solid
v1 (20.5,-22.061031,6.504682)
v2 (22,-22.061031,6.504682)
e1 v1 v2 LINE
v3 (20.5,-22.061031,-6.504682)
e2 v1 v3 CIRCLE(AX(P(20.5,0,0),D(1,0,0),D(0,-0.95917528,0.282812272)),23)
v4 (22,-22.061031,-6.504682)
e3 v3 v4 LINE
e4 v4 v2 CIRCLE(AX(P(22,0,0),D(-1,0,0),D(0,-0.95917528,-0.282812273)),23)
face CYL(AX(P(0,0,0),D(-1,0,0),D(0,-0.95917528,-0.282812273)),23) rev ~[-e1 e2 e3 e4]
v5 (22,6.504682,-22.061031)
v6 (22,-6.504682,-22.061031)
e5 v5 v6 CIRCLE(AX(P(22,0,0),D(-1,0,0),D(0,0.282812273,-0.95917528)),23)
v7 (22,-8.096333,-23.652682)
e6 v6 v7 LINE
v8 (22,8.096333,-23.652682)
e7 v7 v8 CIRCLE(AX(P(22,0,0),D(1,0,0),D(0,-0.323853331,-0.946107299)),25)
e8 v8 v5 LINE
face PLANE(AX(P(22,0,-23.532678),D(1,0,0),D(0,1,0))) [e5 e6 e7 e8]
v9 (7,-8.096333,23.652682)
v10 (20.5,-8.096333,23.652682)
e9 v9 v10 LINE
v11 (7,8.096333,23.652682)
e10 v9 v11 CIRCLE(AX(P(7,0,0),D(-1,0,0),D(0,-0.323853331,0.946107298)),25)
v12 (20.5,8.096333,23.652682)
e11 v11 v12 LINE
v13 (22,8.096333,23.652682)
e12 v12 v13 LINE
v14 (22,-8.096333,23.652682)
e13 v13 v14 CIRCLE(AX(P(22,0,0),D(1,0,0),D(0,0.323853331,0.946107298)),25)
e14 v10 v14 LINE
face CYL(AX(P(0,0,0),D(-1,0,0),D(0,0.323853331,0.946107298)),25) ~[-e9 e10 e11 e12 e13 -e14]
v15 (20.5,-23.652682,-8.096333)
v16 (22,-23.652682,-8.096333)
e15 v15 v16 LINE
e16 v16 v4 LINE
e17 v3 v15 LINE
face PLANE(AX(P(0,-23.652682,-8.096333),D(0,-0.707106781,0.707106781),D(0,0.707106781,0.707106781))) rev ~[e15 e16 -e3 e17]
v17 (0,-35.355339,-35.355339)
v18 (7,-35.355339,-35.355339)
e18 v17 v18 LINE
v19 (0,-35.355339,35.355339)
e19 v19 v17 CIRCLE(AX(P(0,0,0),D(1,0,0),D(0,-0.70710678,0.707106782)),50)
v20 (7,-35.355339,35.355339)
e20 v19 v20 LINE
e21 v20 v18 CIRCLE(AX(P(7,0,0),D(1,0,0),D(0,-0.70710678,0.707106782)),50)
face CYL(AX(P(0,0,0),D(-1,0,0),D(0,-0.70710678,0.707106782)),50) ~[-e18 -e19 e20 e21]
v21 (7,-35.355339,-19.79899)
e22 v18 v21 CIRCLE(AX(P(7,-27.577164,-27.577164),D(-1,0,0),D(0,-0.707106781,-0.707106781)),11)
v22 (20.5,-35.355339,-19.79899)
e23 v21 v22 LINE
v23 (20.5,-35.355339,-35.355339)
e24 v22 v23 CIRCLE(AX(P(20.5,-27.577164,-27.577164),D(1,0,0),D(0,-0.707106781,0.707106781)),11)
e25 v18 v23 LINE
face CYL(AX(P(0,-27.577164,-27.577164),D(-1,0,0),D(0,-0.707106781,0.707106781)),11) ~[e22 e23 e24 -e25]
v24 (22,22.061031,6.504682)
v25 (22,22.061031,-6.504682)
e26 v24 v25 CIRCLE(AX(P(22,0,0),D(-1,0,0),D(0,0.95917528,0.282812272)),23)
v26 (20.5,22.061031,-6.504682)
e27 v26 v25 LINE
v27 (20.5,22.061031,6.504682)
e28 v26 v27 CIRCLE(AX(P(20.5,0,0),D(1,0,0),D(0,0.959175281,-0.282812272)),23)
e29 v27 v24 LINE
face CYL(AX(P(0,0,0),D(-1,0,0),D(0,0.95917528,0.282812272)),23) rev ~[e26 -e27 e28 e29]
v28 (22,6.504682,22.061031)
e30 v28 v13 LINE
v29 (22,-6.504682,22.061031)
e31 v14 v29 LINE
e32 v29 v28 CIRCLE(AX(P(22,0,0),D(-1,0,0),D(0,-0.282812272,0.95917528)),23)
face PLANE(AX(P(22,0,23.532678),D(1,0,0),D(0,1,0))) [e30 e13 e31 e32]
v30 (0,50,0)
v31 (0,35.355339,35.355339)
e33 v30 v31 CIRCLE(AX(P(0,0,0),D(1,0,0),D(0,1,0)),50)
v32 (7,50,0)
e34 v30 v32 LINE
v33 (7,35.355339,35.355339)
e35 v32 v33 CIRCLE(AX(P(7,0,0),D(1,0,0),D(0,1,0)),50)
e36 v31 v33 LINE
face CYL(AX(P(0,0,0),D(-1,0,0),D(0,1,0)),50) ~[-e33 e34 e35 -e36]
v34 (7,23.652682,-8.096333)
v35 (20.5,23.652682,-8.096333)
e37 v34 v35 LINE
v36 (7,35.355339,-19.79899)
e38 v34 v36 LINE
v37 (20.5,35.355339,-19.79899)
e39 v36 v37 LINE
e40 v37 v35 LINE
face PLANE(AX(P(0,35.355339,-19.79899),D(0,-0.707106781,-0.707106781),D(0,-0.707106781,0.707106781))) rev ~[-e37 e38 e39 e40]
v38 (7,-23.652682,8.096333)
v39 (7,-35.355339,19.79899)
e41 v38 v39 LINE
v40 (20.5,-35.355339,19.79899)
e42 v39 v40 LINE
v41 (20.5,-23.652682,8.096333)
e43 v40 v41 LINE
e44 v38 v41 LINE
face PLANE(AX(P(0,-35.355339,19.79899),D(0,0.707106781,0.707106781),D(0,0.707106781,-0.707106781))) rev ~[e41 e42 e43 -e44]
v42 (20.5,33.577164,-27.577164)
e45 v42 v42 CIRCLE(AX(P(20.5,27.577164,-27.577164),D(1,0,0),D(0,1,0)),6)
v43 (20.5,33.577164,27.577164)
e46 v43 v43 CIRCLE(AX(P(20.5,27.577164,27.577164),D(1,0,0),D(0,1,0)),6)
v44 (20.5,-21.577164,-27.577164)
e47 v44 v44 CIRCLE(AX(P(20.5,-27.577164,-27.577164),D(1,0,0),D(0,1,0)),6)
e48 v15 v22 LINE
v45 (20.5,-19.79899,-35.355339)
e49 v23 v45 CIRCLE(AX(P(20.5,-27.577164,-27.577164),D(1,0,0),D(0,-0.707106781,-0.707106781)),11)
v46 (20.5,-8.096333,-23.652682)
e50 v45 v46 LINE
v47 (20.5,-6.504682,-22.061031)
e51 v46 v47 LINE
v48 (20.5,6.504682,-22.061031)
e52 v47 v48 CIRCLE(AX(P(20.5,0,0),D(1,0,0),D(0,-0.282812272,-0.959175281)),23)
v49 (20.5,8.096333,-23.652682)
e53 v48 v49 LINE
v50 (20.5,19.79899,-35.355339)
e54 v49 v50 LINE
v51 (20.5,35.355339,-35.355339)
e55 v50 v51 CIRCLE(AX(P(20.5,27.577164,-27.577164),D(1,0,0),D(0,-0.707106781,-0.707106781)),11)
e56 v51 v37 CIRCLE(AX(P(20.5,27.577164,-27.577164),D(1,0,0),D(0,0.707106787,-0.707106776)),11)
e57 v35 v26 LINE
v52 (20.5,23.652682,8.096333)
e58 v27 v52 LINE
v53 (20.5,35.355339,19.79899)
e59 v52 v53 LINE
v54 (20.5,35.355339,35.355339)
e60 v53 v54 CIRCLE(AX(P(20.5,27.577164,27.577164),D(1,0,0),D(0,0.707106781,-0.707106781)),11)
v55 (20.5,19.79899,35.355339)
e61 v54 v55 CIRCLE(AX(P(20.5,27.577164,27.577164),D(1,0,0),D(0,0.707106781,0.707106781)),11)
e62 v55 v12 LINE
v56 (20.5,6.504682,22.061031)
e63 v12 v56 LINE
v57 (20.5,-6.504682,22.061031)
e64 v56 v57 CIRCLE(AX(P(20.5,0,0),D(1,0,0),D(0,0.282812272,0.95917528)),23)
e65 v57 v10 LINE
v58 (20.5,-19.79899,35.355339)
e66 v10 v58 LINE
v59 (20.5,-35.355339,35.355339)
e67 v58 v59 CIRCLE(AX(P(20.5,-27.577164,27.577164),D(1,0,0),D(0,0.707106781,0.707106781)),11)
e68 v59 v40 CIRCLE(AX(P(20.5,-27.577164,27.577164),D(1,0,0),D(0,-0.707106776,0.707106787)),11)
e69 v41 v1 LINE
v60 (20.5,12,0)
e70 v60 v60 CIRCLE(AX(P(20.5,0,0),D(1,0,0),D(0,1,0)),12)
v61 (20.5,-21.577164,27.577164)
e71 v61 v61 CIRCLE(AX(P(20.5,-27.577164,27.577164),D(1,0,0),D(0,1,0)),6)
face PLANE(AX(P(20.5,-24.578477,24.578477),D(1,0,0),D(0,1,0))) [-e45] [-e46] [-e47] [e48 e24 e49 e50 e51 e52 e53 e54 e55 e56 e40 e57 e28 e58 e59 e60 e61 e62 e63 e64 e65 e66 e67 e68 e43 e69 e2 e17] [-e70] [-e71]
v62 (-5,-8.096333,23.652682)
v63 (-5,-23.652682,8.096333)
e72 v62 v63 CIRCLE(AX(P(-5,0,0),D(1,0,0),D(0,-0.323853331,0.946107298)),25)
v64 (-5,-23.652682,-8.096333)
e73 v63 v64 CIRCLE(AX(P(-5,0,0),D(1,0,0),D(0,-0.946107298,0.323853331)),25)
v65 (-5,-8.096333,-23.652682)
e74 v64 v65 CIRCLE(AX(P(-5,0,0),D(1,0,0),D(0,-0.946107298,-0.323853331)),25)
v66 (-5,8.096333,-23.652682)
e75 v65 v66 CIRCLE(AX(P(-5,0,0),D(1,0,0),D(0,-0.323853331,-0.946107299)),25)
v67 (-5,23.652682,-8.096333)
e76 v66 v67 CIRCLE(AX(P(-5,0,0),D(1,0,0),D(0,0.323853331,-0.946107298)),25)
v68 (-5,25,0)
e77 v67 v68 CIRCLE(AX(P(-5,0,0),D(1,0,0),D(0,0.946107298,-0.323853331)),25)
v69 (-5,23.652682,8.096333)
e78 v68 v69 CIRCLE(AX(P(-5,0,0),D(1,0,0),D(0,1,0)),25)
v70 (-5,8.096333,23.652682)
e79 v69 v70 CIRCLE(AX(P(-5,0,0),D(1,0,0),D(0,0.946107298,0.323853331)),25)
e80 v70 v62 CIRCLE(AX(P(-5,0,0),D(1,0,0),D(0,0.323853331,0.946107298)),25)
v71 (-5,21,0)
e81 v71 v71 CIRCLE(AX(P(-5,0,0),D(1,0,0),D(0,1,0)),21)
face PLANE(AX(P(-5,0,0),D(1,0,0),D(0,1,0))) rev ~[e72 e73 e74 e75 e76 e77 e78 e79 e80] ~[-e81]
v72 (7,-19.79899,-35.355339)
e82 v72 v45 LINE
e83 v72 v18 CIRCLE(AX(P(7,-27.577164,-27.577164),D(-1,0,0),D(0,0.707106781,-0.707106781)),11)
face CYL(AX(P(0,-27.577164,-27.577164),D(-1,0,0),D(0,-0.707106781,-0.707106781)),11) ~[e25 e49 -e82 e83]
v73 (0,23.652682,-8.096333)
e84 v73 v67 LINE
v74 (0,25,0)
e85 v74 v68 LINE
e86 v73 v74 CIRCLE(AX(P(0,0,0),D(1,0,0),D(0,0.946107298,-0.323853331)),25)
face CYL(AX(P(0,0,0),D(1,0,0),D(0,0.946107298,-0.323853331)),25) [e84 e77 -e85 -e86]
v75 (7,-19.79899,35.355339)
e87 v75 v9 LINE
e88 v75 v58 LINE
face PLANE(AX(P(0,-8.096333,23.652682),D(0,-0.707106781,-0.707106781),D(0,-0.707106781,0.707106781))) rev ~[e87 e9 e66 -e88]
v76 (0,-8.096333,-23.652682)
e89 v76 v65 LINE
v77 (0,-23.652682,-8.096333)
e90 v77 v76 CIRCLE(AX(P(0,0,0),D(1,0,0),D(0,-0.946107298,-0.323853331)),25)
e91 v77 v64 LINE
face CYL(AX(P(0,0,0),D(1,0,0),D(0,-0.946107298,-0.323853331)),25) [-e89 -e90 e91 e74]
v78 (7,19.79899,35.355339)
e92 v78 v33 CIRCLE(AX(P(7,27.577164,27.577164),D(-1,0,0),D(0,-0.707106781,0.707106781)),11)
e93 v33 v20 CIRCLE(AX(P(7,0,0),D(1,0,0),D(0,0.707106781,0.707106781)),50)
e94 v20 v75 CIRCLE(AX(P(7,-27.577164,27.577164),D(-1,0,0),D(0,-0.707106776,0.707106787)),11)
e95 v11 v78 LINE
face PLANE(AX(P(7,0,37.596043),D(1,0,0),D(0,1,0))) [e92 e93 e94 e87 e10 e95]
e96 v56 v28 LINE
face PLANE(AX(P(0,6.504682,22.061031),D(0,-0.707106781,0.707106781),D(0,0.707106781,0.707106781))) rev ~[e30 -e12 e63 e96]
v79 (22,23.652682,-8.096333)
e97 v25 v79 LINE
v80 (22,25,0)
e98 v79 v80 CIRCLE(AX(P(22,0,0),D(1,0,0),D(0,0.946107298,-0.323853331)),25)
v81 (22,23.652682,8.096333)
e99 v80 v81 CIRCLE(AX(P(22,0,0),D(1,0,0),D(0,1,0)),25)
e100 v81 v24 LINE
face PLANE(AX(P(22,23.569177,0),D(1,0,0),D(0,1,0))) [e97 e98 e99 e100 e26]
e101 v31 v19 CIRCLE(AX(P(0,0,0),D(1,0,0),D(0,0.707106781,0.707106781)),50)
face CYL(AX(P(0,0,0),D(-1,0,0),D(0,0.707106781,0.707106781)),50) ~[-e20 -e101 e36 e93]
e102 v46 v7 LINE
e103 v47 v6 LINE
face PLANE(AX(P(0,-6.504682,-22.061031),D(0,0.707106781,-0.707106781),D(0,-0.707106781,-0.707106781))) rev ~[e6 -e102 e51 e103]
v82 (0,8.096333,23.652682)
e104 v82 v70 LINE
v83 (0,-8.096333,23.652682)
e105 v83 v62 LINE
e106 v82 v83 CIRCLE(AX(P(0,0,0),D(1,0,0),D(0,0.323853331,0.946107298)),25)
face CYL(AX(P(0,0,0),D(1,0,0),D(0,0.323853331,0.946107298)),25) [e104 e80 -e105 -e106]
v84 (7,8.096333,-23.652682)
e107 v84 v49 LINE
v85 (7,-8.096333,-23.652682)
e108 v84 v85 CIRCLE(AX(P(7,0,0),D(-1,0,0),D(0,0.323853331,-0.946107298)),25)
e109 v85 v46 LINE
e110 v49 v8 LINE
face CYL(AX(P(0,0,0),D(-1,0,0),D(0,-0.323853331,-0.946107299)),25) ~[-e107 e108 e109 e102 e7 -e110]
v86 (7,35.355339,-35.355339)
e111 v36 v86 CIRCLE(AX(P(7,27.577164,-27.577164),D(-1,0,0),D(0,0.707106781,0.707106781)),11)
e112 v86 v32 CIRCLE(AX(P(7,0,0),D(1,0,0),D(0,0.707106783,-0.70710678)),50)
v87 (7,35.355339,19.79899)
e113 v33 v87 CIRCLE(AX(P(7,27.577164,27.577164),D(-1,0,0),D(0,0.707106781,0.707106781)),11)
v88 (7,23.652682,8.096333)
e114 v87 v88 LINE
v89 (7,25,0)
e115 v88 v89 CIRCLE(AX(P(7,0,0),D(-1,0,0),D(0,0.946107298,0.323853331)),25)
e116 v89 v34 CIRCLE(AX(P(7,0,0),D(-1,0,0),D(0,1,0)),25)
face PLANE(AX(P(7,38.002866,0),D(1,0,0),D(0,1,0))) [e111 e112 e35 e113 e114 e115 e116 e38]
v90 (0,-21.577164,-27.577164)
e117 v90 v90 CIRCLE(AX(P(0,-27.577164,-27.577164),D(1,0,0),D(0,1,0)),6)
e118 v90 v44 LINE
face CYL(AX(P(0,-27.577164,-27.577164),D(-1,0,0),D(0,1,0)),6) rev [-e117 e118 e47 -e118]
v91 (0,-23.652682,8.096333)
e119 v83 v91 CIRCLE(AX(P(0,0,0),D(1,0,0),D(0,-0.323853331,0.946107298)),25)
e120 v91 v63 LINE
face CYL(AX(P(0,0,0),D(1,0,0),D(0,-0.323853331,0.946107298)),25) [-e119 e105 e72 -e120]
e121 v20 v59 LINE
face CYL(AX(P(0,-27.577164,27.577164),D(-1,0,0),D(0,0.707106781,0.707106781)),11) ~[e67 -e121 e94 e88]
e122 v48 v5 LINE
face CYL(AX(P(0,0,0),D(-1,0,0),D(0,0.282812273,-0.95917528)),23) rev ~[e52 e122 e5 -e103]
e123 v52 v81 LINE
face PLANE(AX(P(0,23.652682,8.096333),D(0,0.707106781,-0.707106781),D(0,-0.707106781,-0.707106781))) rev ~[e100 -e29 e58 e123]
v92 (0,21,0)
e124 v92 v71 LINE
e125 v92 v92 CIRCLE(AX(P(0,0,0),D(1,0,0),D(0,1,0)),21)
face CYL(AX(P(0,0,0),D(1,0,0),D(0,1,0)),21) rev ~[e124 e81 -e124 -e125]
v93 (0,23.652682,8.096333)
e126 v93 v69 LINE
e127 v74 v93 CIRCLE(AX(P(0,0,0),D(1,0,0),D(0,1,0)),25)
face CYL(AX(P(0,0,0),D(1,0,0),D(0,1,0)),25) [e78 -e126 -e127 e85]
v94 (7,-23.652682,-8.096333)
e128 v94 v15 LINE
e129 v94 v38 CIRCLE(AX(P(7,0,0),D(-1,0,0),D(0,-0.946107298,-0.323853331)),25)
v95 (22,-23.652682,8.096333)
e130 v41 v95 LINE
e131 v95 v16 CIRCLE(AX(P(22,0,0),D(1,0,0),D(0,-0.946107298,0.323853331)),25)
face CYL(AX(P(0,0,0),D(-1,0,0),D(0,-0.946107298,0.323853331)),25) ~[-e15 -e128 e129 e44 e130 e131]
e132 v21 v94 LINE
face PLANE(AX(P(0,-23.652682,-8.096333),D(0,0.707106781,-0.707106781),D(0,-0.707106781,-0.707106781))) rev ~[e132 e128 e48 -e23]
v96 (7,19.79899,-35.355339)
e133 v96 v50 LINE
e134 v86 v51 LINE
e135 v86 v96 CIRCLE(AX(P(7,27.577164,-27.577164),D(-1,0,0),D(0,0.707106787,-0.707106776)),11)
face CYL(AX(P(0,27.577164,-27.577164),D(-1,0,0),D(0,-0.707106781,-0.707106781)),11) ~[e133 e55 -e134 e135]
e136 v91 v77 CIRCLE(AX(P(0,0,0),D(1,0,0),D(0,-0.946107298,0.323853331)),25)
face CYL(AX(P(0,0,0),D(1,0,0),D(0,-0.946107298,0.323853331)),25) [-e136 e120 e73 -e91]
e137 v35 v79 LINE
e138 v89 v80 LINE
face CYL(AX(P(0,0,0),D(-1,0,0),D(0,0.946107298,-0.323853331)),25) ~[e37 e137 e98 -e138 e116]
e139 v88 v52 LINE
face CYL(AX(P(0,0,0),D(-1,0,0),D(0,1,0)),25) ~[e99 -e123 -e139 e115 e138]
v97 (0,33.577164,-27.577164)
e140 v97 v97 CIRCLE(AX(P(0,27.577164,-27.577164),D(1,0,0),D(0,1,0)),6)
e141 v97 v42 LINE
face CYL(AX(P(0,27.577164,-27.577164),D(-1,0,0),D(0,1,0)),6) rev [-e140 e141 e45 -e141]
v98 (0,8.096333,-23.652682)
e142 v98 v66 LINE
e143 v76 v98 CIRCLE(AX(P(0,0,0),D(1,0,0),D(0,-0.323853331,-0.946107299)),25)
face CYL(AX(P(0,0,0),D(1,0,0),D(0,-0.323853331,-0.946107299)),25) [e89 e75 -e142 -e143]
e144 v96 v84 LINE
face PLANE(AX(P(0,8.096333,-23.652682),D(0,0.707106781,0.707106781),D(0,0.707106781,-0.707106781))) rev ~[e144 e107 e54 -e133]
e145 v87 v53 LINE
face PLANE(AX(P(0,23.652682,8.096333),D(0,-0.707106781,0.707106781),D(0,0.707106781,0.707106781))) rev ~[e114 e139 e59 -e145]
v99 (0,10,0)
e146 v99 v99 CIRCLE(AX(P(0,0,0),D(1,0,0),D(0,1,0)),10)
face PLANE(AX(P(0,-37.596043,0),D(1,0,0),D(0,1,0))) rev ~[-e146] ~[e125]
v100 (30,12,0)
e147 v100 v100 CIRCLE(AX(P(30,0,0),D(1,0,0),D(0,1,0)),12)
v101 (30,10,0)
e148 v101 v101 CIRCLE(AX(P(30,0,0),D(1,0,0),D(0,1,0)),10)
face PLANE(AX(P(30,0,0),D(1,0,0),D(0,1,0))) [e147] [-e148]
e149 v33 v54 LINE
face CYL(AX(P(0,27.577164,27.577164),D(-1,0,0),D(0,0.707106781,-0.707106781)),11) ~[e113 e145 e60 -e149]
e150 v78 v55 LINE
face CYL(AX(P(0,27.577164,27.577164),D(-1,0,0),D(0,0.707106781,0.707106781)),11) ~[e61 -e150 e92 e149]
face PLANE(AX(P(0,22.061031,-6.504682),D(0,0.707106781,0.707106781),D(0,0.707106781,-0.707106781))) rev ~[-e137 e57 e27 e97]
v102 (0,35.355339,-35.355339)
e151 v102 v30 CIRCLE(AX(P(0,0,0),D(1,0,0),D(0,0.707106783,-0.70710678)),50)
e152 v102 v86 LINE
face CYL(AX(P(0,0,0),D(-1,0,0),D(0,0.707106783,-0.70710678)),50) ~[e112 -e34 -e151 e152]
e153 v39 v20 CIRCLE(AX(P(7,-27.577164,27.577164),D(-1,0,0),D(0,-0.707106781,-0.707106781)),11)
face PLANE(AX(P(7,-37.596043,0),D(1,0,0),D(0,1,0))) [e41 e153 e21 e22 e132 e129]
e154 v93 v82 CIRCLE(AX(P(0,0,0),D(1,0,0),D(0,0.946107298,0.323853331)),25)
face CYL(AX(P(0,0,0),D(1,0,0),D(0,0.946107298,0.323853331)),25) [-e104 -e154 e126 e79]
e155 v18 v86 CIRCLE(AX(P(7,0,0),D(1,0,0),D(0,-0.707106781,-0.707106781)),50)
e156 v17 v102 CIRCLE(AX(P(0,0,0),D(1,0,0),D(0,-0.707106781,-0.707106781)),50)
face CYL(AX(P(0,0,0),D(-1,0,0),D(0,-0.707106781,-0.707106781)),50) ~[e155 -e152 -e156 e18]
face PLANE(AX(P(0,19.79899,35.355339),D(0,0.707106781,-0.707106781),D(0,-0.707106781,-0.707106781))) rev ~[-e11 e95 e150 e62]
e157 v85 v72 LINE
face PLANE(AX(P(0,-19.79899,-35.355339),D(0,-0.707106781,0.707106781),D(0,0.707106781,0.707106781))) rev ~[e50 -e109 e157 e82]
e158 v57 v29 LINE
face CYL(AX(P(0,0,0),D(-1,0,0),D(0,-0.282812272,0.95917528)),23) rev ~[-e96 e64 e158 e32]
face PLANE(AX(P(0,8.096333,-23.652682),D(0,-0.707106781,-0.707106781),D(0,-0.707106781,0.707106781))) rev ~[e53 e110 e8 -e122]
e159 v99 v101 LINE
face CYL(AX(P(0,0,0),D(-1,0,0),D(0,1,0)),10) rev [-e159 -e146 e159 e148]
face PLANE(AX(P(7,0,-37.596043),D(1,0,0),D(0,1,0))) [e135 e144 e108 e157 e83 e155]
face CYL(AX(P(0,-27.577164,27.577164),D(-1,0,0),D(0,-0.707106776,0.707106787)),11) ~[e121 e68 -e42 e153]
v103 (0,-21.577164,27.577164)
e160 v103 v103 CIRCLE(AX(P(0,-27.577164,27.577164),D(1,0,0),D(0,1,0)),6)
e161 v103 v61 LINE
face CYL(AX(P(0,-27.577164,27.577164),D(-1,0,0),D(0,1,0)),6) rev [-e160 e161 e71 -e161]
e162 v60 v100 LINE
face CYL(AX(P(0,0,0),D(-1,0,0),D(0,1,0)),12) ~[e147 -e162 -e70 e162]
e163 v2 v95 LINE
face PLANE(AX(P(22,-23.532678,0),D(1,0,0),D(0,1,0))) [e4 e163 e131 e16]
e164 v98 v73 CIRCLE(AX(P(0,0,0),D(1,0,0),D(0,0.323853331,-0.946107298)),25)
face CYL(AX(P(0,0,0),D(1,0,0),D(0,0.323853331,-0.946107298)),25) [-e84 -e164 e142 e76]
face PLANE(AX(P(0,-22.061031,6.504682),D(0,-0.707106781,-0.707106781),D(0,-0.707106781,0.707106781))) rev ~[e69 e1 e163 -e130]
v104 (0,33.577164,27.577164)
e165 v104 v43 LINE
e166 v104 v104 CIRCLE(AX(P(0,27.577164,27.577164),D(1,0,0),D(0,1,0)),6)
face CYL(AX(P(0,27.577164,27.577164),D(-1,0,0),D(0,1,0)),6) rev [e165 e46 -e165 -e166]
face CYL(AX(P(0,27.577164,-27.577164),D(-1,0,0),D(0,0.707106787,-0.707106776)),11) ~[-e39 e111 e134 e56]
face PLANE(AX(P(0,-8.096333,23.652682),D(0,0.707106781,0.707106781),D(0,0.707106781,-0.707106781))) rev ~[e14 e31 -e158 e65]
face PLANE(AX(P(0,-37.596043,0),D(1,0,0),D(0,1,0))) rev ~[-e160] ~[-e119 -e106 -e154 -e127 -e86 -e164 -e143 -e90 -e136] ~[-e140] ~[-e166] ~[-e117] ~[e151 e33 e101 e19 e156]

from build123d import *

# Parameters (mm, degrees)
F0_R     = 12
F0_R_2   = 10
F1_DEPTH = 30
F0_R_3   = 21
F2_DEPTH = 20.5
F3_DEPTH = 22
F0_R_4   = 6
F4_DEPTH = 20.5
F5_DEPTH = 7
F6_DEPTH = 5


with BuildPart() as f1:
    # F0 (on Right) → F1 (new body)
    with BuildSketch(Plane.YZ):
        Circle(F0_R)
        Circle(F0_R_2, mode=Mode.SUBTRACT)
    extrude(amount=F1_DEPTH)

    # F0 (on Right) → F2 (join)
    with BuildSketch(Plane.YZ):
        with BuildLine():
            ThreePointArc((-8.0963332733, 23.6526824594), (-17.6776695297, 17.6776695297), (-23.6526824594, 8.0963332733))
            Line((-23.6526824594, 8.0963332733), (-22.0610314501, 6.504682264))
            ThreePointArc((-22.0610314501, 6.504682264), (-23, -4.4e-09), (-22.0610314476, -6.5046822725))
            Line((-22.0610314476, -6.5046822725), (-23.6526824563, -8.0963332824))
            ThreePointArc((-23.6526824563, -8.0963332824), (-17.6776695229, -17.6776695365), (-8.0963332642, -23.6526824626))
            Line((-8.0963332642, -23.6526824626), (-6.5046822555, -22.0610314526))
            ThreePointArc((-6.5046822555, -22.0610314526), (7.4e-09, -23), (6.5046822697, -22.0610314485))
            Line((6.5046822697, -22.0610314485), (8.0963332794, -23.6526824574))
            ThreePointArc((8.0963332794, -23.6526824574), (17.6776695342, -17.6776695251), (23.6526824615, -8.0963332673))
            Line((23.6526824615, -8.0963332673), (22.0610314518, -6.5046822584))
            ThreePointArc((22.0610314518, -6.5046822584), (23, 4.4e-09), (22.0610314493, 6.5046822669))
            Line((22.0610314493, 6.5046822669), (23.6526824584, 8.0963332764))
            ThreePointArc((23.6526824584, 8.0963332764), (17.6776695274, 17.6776695319), (8.0963332703, 23.6526824605))
            Line((8.0963332703, 23.6526824605), (6.5046822612, 22.061031451))
            ThreePointArc((6.5046822612, 22.061031451), (-1.5e-09, 23), (-6.504682264, 22.0610314501))
            Line((-6.504682264, 22.0610314501), (-8.0963332733, 23.6526824594))
        make_face()
        Circle(F0_R_3, mode=Mode.SUBTRACT)
        Circle(F0_R_3)
        Circle(F0_R, mode=Mode.SUBTRACT)
    extrude(amount=F2_DEPTH)

    # F0 (on Right) → F3 (join)
    with BuildSketch(Plane.YZ):
        with BuildLine():
            Line((-22.0610314501, 6.504682264), (-23.6526824594, 8.0963332733))
            ThreePointArc((-23.6526824594, 8.0963332733), (-25, -4.8e-09), (-23.6526824563, -8.0963332824))
            Line((-23.6526824563, -8.0963332824), (-22.0610314476, -6.5046822725))
            ThreePointArc((-22.0610314476, -6.5046822725), (-23, -4.4e-09), (-22.0610314501, 6.504682264))
        make_face()
        with BuildLine():
            ThreePointArc((8.0963332703, 23.6526824605), (-1.6e-09, 25), (-8.0963332733, 23.6526824594))
            Line((-8.0963332733, 23.6526824594), (-6.504682264, 22.0610314501))
            ThreePointArc((-6.504682264, 22.0610314501), (-1.5e-09, 23), (6.5046822612, 22.061031451))
            Line((6.5046822612, 22.061031451), (8.0963332703, 23.6526824605))
        make_face()
        with BuildLine():
            ThreePointArc((25, 0), (24.6608704374, 4.1038359214), (23.6526824584, 8.0963332764))
            Line((23.6526824584, 8.0963332764), (22.0610314493, 6.5046822669))
            ThreePointArc((22.0610314493, 6.5046822669), (23, 4.4e-09), (22.0610314518, -6.5046822584))
            Line((22.0610314518, -6.5046822584), (23.6526824615, -8.0963332673))
            ThreePointArc((23.6526824615, -8.0963332673), (24.6608704382, -4.1038359167), (25, 0))
        make_face()
        with BuildLine():
            Line((-6.5046822555, -22.0610314526), (-8.0963332642, -23.6526824626))
            ThreePointArc((-8.0963332642, -23.6526824626), (8e-09, -25), (8.0963332794, -23.6526824574))
            Line((8.0963332794, -23.6526824574), (6.5046822697, -22.0610314485))
            ThreePointArc((6.5046822697, -22.0610314485), (7.4e-09, -23), (-6.5046822555, -22.0610314526))
        make_face()
    extrude(amount=F3_DEPTH)

    # F0 (on Right) → F4 (join, through all)
    with BuildSketch(Plane.YZ):
        with BuildLine():
            Line((-35.3553390593, 19.7989898732), (-23.6526824594, 8.0963332733))
            ThreePointArc((-23.6526824594, 8.0963332733), (-17.6776695297, 17.6776695297), (-8.0963332733, 23.6526824594))
            Line((-8.0963332733, 23.6526824594), (-19.7989898732, 35.3553390593))
            ThreePointArc((-19.7989898732, 35.3553390593), (-27.5771644248, 38.5771644663), (-35.3553390007, 35.355339118))
            ThreePointArc((-35.3553390007, 35.355339118), (-38.5771644663, 27.5771645077), (-35.3553390593, 19.7989898732))
        make_face()
        with Locations((-27.5771644663, 27.5771644663)):
            Circle(F0_R_4, mode=Mode.SUBTRACT)
        with BuildLine():
            ThreePointArc((-8.0963332642, -23.6526824626), (-17.6776695229, -17.6776695365), (-23.6526824563, -8.0963332824))
            Line((-23.6526824563, -8.0963332824), (-35.3553390517, -19.7989898868))
            ThreePointArc((-35.3553390517, -19.7989898868), (-38.5771644557, -27.5771644811), (-35.3553390457, -35.3553390729))
            ThreePointArc((-35.3553390457, -35.3553390729), (-27.5771644514, -38.5771644769), (-19.7989898596, -35.3553390669))
            Line((-19.7989898596, -35.3553390669), (-8.0963332642, -23.6526824626))
        make_face()
        with Locations((-27.5771644557, -27.5771644769)):
            Circle(F0_R_4, mode=Mode.SUBTRACT)
        with BuildLine():
            ThreePointArc((23.6526824615, -8.0963332673), (17.6776695342, -17.6776695251), (8.0963332794, -23.6526824574))
            Line((8.0963332794, -23.6526824574), (19.7989898823, -35.3553390542))
            ThreePointArc((19.7989898823, -35.3553390542), (27.5771645176, -38.5771644592), (35.355339127, -35.3553389916))
            ThreePointArc((35.355339127, -35.3553389916), (38.5771644733, -27.5771644149), (35.3553390644, -19.7989898642))
            Line((35.3553390644, -19.7989898642), (23.6526824615, -8.0963332673))
        make_face()
        with Locations((27.5771644733, -27.5771644592)):
            Circle(F0_R_4, mode=Mode.SUBTRACT)
        with BuildLine():
            Line((19.7989898687, 35.3553390619), (8.0963332703, 23.6526824605))
            ThreePointArc((8.0963332703, 23.6526824605), (17.6776695274, 17.6776695319), (23.6526824584, 8.0963332764))
            Line((23.6526824584, 8.0963332764), (35.3553390568, 19.7989898778))
            ThreePointArc((35.3553390568, 19.7989898778), (38.5771644627, 27.5771644712), (35.3553390548, 35.3553390639))
            ThreePointArc((35.3553390548, 35.3553390639), (27.5771644613, 38.5771644698), (19.7989898687, 35.3553390619))
        make_face()
        with Locations((27.5771644627, 27.5771644698)):
            Circle(F0_R_4, mode=Mode.SUBTRACT)
    extrude(amount=F4_DEPTH)

    # F0 (on Right) → F5 (join)
    with BuildSketch(Plane.YZ):
        with BuildLine():
            ThreePointArc((-23.6526824563, -8.0963332824), (-25, -4.8e-09), (-23.6526824594, 8.0963332733))
            Line((-23.6526824594, 8.0963332733), (-35.3553390593, 19.7989898732))
            ThreePointArc((-35.3553390593, 19.7989898732), (-38.5771644663, 27.5771645077), (-35.3553390007, 35.355339118))
            ThreePointArc((-35.3553390007, 35.355339118), (-50, 3.19e-08), (-35.3553390457, -35.3553390729))
            ThreePointArc((-35.3553390457, -35.3553390729), (-38.5771644557, -27.5771644811), (-35.3553390517, -19.7989898868))
            Line((-35.3553390517, -19.7989898868), (-23.6526824563, -8.0963332824))
        make_face()
        with BuildLine():
            Line((-19.7989898732, 35.3553390593), (-8.0963332733, 23.6526824594))
            ThreePointArc((-8.0963332733, 23.6526824594), (-1.6e-09, 25), (8.0963332703, 23.6526824605))
            Line((8.0963332703, 23.6526824605), (19.7989898687, 35.3553390619))
            ThreePointArc((19.7989898687, 35.3553390619), (27.5771644613, 38.5771644698), (35.3553390548, 35.3553390639))
            ThreePointArc((35.3553390548, 35.3553390639), (3.83e-08, 50), (-35.3553390007, 35.355339118))
            ThreePointArc((-35.3553390007, 35.355339118), (-27.5771644248, 38.5771644663), (-19.7989898732, 35.3553390593))
        make_face()
        with BuildLine():
            ThreePointArc((8.0963332794, -23.6526824574), (8e-09, -25), (-8.0963332642, -23.6526824626))
            Line((-8.0963332642, -23.6526824626), (-19.7989898596, -35.3553390669))
            ThreePointArc((-19.7989898596, -35.3553390669), (-27.5771644514, -38.5771644769), (-35.3553390457, -35.3553390729))
            ThreePointArc((-35.3553390457, -35.3553390729), (5.75e-08, -50), (35.355339127, -35.3553389916))
            ThreePointArc((35.355339127, -35.3553389916), (27.5771645176, -38.5771644592), (19.7989898823, -35.3553390542))
            Line((19.7989898823, -35.3553390542), (8.0963332794, -23.6526824574))
        make_face()
        with BuildLine():
            ThreePointArc((50, 0), (46.1939766243, 19.1341716212), (35.3553390548, 35.3553390639))
            ThreePointArc((35.3553390548, 35.3553390639), (38.5771644627, 27.5771644712), (35.3553390568, 19.7989898778))
            Line((35.3553390568, 19.7989898778), (23.6526824584, 8.0963332764))
            ThreePointArc((23.6526824584, 8.0963332764), (24.6608704374, 4.1038359214), (25, 0))
            ThreePointArc((25, 0), (24.6608704382, -4.1038359167), (23.6526824615, -8.0963332673))
            Line((23.6526824615, -8.0963332673), (35.3553390644, -19.7989898642))
            ThreePointArc((35.3553390644, -19.7989898642), (38.5771644733, -27.5771644149), (35.355339127, -35.3553389916))
            ThreePointArc((35.355339127, -35.3553389916), (46.1939766439, -19.134171574), (50, 0))
        make_face()
    extrude(amount=F5_DEPTH)

    # F0 (on Right) → F6 (join)
    with BuildSketch(Plane.YZ):
        with BuildLine():
            ThreePointArc((-8.0963332733, 23.6526824594), (-17.6776695297, 17.6776695297), (-23.6526824594, 8.0963332733))
            Line((-23.6526824594, 8.0963332733), (-22.0610314501, 6.504682264))
            ThreePointArc((-22.0610314501, 6.504682264), (-23, -4.4e-09), (-22.0610314476, -6.5046822725))
            Line((-22.0610314476, -6.5046822725), (-23.6526824563, -8.0963332824))
            ThreePointArc((-23.6526824563, -8.0963332824), (-17.6776695229, -17.6776695365), (-8.0963332642, -23.6526824626))
            Line((-8.0963332642, -23.6526824626), (-6.5046822555, -22.0610314526))
            ThreePointArc((-6.5046822555, -22.0610314526), (7.4e-09, -23), (6.5046822697, -22.0610314485))
            Line((6.5046822697, -22.0610314485), (8.0963332794, -23.6526824574))
            ThreePointArc((8.0963332794, -23.6526824574), (17.6776695342, -17.6776695251), (23.6526824615, -8.0963332673))
            Line((23.6526824615, -8.0963332673), (22.0610314518, -6.5046822584))
            ThreePointArc((22.0610314518, -6.5046822584), (23, 4.4e-09), (22.0610314493, 6.5046822669))
            Line((22.0610314493, 6.5046822669), (23.6526824584, 8.0963332764))
            ThreePointArc((23.6526824584, 8.0963332764), (17.6776695274, 17.6776695319), (8.0963332703, 23.6526824605))
            Line((8.0963332703, 23.6526824605), (6.5046822612, 22.061031451))
            ThreePointArc((6.5046822612, 22.061031451), (-1.5e-09, 23), (-6.504682264, 22.0610314501))
            Line((-6.504682264, 22.0610314501), (-8.0963332733, 23.6526824594))
        make_face()
        Circle(F0_R_3, mode=Mode.SUBTRACT)
        with BuildLine():
            Line((-22.0610314501, 6.504682264), (-23.6526824594, 8.0963332733))
            ThreePointArc((-23.6526824594, 8.0963332733), (-25, -4.8e-09), (-23.6526824563, -8.0963332824))
            Line((-23.6526824563, -8.0963332824), (-22.0610314476, -6.5046822725))
            ThreePointArc((-22.0610314476, -6.5046822725), (-23, -4.4e-09), (-22.0610314501, 6.504682264))
        make_face()
        with BuildLine():
            ThreePointArc((8.0963332703, 23.6526824605), (-1.6e-09, 25), (-8.0963332733, 23.6526824594))
            Line((-8.0963332733, 23.6526824594), (-6.504682264, 22.0610314501))
            ThreePointArc((-6.504682264, 22.0610314501), (-1.5e-09, 23), (6.5046822612, 22.061031451))
            Line((6.5046822612, 22.061031451), (8.0963332703, 23.6526824605))
        make_face()
        with BuildLine():
            ThreePointArc((25, 0), (24.6608704374, 4.1038359214), (23.6526824584, 8.0963332764))
            Line((23.6526824584, 8.0963332764), (22.0610314493, 6.5046822669))
            ThreePointArc((22.0610314493, 6.5046822669), (23, 4.4e-09), (22.0610314518, -6.5046822584))
            Line((22.0610314518, -6.5046822584), (23.6526824615, -8.0963332673))
            ThreePointArc((23.6526824615, -8.0963332673), (24.6608704382, -4.1038359167), (25, 0))
        make_face()
        with BuildLine():
            Line((-6.5046822555, -22.0610314526), (-8.0963332642, -23.6526824626))
            ThreePointArc((-8.0963332642, -23.6526824626), (8e-09, -25), (8.0963332794, -23.6526824574))
            Line((8.0963332794, -23.6526824574), (6.5046822697, -22.0610314485))
            ThreePointArc((6.5046822697, -22.0610314485), (7.4e-09, -23), (-6.5046822555, -22.0610314526))
        make_face()
    extrude(amount=-F6_DEPTH)


solid = f1.part
